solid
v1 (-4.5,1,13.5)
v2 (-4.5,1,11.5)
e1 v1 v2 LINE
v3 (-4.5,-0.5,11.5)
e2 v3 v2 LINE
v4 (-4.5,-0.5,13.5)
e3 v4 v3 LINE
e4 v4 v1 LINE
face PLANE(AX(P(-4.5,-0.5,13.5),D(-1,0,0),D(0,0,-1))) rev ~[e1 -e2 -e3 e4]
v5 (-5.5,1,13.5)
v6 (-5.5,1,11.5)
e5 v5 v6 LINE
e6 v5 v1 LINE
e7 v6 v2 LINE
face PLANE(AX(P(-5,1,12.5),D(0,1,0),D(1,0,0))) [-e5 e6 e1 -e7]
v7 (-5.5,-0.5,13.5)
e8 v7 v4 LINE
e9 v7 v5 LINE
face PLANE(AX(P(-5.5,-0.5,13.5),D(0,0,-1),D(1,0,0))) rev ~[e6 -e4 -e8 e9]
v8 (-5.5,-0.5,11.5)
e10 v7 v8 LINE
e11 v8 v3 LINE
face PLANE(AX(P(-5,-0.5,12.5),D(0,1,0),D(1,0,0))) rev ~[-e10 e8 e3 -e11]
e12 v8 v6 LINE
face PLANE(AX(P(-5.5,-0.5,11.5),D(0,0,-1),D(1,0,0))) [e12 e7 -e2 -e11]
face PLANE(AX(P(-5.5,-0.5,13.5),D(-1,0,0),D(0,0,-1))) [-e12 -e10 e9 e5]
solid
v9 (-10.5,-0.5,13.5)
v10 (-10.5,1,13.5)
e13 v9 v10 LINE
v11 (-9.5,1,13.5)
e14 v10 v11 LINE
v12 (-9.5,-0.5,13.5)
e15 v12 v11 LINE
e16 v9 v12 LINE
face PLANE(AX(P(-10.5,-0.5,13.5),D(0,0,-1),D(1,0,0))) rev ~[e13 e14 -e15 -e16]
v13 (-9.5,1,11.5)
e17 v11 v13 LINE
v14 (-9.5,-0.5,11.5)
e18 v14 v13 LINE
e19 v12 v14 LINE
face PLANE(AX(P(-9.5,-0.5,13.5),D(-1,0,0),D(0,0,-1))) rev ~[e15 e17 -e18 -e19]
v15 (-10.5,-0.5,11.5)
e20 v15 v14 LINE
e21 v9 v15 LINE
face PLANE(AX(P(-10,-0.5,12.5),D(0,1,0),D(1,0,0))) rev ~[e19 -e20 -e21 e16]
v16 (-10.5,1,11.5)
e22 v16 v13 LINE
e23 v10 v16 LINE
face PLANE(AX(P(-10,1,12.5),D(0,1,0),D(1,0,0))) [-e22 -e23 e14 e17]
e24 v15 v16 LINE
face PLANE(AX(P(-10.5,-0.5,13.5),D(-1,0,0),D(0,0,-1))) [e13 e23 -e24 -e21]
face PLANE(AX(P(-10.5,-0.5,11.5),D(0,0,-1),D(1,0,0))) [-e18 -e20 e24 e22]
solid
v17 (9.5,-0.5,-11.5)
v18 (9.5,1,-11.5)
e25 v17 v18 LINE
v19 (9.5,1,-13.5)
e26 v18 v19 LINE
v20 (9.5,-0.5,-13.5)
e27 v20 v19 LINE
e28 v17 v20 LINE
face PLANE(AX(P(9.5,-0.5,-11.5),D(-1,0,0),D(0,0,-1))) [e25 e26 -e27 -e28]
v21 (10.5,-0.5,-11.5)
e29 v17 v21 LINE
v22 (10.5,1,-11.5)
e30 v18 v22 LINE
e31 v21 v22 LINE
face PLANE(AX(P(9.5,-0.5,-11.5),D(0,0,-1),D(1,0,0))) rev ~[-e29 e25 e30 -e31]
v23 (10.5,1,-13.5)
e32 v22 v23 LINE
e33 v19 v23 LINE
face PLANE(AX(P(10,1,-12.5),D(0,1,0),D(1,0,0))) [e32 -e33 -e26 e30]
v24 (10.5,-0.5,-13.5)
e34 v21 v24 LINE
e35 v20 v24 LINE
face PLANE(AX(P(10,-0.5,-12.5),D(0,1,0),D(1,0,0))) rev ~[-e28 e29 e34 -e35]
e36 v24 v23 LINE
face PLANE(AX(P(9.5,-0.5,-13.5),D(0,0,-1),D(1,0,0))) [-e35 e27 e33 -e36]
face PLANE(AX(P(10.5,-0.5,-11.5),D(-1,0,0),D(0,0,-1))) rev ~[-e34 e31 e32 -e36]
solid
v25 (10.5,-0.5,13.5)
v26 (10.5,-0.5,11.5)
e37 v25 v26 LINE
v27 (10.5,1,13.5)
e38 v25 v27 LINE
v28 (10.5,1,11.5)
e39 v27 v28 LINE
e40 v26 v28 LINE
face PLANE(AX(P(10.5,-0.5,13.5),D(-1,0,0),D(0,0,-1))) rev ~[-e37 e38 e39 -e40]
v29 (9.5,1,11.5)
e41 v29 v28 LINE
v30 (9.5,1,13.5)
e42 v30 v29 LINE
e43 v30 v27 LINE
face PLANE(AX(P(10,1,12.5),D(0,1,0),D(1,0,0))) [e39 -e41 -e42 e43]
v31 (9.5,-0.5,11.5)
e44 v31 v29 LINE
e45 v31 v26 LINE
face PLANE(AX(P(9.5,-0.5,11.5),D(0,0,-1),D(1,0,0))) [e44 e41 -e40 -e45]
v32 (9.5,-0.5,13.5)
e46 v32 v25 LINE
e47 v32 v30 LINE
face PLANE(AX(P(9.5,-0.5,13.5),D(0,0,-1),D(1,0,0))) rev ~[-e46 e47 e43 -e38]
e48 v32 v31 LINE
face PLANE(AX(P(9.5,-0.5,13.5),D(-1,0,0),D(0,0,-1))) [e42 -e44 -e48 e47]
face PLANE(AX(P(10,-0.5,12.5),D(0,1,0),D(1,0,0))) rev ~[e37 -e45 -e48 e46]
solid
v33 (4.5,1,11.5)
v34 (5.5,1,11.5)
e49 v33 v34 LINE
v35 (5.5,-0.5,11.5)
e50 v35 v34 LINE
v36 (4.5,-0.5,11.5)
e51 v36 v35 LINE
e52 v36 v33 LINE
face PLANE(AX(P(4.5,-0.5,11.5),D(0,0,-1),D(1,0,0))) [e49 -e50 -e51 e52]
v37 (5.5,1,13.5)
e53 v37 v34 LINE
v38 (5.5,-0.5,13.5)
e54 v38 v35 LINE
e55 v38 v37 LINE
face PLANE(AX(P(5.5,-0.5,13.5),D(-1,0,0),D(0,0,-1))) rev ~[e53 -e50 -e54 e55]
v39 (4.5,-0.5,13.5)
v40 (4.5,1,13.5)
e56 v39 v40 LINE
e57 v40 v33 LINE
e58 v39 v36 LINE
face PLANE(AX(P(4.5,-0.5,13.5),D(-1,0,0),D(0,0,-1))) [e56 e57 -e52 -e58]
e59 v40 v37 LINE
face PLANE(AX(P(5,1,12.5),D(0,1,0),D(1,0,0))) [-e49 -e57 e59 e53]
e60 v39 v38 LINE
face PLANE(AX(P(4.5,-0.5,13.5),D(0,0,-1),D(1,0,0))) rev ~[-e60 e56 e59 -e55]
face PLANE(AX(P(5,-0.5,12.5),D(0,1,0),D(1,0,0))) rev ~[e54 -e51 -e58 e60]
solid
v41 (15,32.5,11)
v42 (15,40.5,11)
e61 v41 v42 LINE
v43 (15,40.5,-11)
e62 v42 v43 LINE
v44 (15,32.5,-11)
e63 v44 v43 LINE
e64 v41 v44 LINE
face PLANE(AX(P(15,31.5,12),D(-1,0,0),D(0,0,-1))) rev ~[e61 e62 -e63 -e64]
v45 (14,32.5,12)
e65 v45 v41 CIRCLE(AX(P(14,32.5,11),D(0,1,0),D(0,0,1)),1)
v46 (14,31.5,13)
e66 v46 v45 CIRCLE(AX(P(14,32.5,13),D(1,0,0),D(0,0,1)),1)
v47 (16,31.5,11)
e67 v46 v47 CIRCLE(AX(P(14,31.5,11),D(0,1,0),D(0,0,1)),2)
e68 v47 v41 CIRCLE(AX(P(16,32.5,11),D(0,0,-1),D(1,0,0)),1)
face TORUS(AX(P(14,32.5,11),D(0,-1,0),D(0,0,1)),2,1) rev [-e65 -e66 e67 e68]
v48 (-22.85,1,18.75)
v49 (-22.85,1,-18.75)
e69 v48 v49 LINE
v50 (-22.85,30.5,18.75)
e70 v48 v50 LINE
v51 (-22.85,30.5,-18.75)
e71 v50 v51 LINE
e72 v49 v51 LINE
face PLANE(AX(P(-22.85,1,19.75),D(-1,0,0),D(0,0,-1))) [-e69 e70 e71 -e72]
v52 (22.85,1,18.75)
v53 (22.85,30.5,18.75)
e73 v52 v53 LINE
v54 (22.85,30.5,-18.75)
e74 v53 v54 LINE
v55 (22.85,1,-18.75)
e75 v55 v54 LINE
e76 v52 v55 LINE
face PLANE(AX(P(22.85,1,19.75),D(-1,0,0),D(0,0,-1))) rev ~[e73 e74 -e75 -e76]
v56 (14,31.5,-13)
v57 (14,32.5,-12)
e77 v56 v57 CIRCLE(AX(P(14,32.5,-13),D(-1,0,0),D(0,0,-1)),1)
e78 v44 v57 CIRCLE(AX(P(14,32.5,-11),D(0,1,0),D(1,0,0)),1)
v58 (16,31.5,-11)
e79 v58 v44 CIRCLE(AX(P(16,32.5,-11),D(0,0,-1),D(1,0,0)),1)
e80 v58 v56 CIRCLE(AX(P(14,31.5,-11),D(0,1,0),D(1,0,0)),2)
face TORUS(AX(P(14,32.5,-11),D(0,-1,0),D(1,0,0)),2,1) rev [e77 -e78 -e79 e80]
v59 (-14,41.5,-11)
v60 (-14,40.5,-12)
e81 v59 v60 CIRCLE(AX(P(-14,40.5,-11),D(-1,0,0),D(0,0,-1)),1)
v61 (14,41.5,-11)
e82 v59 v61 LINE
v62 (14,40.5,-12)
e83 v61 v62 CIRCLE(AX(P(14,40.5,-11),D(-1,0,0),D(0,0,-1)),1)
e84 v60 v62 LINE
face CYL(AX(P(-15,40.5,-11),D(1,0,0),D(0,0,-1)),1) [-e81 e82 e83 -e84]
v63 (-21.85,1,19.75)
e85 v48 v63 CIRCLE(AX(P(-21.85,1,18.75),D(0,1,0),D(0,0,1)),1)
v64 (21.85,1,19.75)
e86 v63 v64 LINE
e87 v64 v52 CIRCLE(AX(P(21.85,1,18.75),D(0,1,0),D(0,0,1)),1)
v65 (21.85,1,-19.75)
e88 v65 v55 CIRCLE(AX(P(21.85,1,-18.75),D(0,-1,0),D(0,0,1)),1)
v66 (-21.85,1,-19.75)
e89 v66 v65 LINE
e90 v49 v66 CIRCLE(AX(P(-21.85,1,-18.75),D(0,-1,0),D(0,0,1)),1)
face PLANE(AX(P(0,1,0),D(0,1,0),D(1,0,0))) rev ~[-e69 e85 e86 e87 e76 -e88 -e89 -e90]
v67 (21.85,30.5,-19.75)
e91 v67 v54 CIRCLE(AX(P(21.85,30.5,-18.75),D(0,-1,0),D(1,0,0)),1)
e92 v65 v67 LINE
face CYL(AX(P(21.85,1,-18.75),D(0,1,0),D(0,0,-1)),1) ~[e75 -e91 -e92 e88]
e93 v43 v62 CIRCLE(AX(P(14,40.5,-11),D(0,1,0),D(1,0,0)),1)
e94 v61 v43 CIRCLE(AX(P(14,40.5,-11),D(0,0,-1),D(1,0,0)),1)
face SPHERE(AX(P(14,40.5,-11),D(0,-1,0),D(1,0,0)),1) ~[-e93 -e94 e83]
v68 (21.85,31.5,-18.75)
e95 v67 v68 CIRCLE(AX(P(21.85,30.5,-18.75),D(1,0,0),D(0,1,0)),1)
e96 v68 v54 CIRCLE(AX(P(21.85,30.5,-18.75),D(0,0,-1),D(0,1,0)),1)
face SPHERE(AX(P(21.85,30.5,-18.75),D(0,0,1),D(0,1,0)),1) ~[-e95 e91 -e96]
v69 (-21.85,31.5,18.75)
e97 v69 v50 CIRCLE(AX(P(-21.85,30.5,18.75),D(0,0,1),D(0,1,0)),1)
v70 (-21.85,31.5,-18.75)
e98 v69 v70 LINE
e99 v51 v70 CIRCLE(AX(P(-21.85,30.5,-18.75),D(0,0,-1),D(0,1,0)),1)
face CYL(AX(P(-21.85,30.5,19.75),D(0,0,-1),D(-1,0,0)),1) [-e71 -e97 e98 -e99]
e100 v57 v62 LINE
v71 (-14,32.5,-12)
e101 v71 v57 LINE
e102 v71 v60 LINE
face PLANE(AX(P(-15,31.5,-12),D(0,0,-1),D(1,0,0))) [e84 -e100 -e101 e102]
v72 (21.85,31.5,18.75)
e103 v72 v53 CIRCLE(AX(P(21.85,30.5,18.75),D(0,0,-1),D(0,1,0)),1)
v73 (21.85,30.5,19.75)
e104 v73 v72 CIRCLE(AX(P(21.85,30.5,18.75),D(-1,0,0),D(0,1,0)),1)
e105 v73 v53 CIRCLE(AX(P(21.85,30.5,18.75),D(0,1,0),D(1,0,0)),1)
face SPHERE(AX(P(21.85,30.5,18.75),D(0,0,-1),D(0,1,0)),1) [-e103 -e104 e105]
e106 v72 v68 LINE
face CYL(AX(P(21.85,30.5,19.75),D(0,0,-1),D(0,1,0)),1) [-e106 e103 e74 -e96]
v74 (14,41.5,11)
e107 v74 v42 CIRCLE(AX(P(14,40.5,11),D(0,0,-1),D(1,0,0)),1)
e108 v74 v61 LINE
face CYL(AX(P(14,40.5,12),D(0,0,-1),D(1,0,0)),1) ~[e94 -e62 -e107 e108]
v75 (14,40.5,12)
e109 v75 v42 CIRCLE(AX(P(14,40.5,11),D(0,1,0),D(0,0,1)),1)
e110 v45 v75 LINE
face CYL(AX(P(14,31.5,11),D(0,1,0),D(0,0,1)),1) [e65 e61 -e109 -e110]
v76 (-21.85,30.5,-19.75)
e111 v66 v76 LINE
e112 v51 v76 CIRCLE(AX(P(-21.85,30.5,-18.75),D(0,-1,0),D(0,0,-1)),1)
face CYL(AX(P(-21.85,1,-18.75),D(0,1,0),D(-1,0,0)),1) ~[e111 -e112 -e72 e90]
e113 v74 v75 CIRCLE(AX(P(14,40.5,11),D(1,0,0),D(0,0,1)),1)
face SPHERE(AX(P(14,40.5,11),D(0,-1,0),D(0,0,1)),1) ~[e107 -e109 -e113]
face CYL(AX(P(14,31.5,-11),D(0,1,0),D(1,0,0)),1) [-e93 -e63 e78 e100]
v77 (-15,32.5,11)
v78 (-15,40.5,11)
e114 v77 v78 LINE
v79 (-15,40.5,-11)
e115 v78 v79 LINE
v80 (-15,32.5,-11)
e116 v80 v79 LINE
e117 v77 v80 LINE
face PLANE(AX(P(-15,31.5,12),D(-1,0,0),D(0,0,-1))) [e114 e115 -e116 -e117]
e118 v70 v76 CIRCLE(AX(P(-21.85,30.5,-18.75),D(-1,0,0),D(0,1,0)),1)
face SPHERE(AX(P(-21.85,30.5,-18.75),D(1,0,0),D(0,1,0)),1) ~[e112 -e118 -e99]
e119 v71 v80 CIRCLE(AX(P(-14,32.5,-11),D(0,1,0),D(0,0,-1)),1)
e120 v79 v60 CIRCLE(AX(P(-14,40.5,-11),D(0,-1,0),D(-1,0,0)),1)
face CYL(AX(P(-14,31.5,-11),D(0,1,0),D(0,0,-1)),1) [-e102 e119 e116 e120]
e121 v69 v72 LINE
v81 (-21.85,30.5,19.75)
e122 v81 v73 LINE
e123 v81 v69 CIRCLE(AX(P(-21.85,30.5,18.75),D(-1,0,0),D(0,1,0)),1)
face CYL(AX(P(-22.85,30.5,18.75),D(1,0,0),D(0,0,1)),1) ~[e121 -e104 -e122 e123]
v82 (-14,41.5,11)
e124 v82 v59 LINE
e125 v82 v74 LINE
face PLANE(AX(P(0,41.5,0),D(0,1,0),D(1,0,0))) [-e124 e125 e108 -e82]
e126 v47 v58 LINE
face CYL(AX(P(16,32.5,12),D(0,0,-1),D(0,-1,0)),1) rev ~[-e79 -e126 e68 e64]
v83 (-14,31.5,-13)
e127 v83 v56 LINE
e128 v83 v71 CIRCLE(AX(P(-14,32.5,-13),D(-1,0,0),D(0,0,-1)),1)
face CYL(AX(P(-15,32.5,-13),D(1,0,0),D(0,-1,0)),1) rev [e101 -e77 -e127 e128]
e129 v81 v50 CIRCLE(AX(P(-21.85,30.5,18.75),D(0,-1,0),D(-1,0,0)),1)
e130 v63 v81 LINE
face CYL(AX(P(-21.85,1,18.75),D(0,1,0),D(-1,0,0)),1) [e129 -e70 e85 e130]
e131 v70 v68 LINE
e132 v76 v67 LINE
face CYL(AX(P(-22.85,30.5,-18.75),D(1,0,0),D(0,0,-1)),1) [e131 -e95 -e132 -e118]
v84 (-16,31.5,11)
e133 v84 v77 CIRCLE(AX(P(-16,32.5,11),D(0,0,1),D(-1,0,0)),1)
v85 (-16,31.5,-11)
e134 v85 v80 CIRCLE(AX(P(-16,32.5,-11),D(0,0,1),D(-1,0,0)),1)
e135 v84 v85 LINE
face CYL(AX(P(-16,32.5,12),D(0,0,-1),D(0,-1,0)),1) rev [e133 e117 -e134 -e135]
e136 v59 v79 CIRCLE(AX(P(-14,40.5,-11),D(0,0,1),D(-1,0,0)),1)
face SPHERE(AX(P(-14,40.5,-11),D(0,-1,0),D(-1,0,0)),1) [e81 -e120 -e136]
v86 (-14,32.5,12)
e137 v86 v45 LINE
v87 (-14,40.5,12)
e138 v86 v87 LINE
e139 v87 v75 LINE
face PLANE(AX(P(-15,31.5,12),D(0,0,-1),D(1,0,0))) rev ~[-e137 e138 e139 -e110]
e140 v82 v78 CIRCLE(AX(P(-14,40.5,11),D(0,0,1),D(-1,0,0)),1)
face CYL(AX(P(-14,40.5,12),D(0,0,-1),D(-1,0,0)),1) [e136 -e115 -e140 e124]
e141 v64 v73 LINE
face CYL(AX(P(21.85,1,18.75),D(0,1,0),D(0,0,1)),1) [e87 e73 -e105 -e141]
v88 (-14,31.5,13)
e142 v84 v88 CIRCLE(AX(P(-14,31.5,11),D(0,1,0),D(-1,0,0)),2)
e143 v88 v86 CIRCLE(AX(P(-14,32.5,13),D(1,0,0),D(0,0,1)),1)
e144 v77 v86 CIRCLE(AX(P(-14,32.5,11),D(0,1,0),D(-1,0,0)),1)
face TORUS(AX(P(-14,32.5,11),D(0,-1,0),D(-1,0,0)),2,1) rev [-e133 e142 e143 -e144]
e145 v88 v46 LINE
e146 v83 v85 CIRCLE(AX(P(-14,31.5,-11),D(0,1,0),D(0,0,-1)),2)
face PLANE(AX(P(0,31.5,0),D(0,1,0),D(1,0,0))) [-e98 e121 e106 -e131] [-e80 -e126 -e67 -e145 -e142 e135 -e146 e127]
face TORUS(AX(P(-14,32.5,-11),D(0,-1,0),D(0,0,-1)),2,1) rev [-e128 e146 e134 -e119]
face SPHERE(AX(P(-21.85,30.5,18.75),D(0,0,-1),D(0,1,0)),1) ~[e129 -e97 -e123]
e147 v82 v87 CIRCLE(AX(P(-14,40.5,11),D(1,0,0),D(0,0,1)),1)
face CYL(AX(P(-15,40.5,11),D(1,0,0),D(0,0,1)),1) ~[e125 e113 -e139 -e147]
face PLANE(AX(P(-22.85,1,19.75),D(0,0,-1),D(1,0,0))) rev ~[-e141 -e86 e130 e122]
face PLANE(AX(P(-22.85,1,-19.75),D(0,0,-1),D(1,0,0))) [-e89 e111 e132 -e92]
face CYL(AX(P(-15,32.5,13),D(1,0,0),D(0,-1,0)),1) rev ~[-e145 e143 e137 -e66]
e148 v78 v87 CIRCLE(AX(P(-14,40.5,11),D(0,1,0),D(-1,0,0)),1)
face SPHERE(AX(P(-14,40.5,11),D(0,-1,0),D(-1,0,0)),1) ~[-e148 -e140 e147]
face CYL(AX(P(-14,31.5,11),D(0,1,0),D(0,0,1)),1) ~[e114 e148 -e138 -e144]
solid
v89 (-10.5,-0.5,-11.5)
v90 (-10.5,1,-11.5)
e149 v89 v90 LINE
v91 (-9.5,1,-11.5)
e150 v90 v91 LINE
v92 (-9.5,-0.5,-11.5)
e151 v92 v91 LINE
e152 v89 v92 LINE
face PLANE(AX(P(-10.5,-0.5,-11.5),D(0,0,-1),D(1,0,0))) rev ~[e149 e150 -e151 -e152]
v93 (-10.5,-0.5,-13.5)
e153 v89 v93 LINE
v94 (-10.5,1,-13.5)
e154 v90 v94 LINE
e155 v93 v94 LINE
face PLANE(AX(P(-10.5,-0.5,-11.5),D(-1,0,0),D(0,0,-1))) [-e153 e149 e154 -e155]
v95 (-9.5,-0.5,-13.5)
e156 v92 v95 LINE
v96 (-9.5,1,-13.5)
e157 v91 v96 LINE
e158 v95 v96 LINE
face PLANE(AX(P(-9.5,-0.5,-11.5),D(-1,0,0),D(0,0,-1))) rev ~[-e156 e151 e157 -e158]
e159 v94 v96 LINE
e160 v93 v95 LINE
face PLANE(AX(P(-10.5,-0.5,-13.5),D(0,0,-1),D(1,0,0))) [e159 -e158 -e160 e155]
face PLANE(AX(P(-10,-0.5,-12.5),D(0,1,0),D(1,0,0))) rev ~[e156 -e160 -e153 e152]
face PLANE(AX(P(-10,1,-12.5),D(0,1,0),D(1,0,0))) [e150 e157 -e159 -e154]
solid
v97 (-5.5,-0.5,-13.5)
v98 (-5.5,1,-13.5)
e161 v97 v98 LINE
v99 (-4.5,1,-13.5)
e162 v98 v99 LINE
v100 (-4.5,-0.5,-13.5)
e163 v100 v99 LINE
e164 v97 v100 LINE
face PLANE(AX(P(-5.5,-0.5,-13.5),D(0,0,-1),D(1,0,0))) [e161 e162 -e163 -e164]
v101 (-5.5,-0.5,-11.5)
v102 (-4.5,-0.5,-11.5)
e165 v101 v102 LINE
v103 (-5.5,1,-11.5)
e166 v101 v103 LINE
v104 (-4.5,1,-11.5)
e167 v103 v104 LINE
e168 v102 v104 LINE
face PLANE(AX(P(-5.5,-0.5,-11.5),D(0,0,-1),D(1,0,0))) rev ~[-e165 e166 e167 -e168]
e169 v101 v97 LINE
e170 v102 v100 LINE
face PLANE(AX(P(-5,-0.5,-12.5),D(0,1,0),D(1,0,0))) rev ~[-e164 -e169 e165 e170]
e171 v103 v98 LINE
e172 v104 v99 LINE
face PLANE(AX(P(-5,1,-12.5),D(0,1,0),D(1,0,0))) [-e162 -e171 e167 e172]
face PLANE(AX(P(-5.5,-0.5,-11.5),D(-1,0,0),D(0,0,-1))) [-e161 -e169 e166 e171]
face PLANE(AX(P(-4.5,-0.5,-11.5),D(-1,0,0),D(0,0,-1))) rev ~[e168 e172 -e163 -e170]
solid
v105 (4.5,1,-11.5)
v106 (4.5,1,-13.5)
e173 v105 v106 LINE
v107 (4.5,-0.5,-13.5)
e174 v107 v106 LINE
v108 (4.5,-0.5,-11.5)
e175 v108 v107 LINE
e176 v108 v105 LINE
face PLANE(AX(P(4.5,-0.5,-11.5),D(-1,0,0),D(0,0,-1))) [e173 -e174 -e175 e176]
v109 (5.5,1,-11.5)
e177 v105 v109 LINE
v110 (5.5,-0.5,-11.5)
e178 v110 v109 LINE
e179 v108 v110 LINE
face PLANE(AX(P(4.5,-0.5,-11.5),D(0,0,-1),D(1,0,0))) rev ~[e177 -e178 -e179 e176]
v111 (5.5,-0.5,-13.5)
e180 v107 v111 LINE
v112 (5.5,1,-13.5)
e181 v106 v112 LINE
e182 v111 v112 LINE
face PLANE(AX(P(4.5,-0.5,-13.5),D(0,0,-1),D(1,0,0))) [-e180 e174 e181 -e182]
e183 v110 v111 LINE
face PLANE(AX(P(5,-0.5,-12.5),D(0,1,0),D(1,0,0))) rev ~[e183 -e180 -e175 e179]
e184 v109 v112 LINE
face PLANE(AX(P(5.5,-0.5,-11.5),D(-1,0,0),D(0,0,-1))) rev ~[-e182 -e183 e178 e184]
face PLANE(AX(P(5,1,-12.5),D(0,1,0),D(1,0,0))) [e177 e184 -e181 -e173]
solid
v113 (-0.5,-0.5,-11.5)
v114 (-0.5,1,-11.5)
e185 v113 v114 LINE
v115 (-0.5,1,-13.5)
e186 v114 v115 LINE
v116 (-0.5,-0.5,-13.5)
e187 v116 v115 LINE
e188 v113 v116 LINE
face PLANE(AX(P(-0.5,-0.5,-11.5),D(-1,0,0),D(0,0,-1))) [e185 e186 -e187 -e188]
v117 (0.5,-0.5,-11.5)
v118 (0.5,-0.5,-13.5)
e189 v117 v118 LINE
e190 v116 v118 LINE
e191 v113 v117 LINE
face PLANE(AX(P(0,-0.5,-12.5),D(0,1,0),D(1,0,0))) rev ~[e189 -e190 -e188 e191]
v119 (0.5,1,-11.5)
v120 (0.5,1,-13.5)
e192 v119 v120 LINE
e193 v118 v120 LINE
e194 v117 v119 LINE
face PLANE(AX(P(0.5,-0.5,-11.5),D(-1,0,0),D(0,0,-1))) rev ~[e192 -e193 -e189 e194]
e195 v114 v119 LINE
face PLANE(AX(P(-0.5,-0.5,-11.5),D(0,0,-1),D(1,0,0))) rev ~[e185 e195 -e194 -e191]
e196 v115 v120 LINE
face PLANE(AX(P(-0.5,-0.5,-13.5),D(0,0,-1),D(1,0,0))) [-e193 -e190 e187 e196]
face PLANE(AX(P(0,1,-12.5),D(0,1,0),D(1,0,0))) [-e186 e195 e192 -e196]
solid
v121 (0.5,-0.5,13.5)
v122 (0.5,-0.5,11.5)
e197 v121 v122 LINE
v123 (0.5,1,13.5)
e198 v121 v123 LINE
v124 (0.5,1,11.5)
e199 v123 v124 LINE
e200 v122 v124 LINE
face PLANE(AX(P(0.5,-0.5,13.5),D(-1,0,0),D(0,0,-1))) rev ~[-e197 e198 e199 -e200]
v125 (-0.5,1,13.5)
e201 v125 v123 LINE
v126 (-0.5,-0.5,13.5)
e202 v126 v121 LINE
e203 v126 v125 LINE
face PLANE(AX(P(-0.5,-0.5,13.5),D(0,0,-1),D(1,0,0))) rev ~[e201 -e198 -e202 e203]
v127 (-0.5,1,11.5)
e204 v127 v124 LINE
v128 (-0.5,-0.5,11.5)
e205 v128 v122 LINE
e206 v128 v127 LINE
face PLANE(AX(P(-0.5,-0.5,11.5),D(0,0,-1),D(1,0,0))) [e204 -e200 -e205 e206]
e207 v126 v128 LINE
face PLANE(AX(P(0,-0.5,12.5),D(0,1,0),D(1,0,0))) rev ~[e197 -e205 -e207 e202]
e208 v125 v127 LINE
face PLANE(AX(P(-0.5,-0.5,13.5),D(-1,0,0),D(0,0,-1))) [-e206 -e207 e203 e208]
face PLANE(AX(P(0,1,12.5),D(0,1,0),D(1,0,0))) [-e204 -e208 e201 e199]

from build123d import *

# Parameters (mm, degrees)
EXTRUDE_START      = -0.5
SKETCH_1_W         = 1
SKETCH_1_H         = 2
EXTRUDE_1_DEPTH    = 1.5
EXTRUDE_1_2_DEPTH  = 1.5
EXTRUDE_1_3_DEPTH  = 1.5
EXTRUDE_1_4_DEPTH  = 1.5
EXTRUDE_1_5_DEPTH  = 1.5
EXTRUDE_1_6_DEPTH  = 1.5
EXTRUDE_1_7_DEPTH  = 1.5
EXTRUDE_1_8_DEPTH  = 1.5
EXTRUDE_1_9_DEPTH  = 1.5
EXTRUDE_1_10_DEPTH = 1.5
SKETCH_2_W         = 45.7
SKETCH_2_H         = 39.5
EXTRUDE_2_DEPTH    = 30.5
SKETCH_3_W         = 30
SKETCH_3_H         = 24
EXTRUDE_3_DEPTH    = 10
FILLET_1_R         = 1


with BuildPart() as part:
    # Эскиз1 → Бобышка-Вытянуть1 (new body)
    with BuildSketch(Plane(origin=(0, 0, 0), x_dir=(1, 0, 0), z_dir=(0, 1, 0)).offset(EXTRUDE_START)):
        with Locations((-5, 12.5)):
            Rectangle(SKETCH_1_W, SKETCH_1_H)
    extrude(amount=EXTRUDE_1_DEPTH)


with BuildPart() as body_2:
    # Эскиз1 → Extrude 1 2 (new body)
    with BuildSketch(Plane(origin=(0, 0, 0), x_dir=(1, 0, 0), z_dir=(0, 1, 0)).offset(EXTRUDE_START)):
        with Locations((-10, 12.5)):
            Rectangle(SKETCH_1_W, SKETCH_1_H)
    extrude(amount=EXTRUDE_1_2_DEPTH)


with BuildPart() as body_3:
    # Эскиз1 → Extrude 1 3 (new body)
    with BuildSketch(Plane(origin=(0, 0, 0), x_dir=(1, 0, 0), z_dir=(0, 1, 0)).offset(EXTRUDE_START)):
        with Locations((0, 12.5)):
            Rectangle(SKETCH_1_W, SKETCH_1_H)
    extrude(amount=EXTRUDE_1_3_DEPTH)


with BuildPart() as body_4:
    # Эскиз1 → Extrude 1 4 (new body)
    with BuildSketch(Plane(origin=(0, 0, 0), x_dir=(1, 0, 0), z_dir=(0, 1, 0)).offset(EXTRUDE_START)):
        with Locations((5, 12.5)):
            Rectangle(SKETCH_1_W, SKETCH_1_H)
    extrude(amount=EXTRUDE_1_4_DEPTH)


with BuildPart() as body_5:
    # Эскиз1 → Extrude 1 5 (new body)
    with BuildSketch(Plane(origin=(0, 0, 0), x_dir=(1, 0, 0), z_dir=(0, 1, 0)).offset(EXTRUDE_START)):
        with Locations((10, 12.5)):
            Rectangle(SKETCH_1_W, SKETCH_1_H)
    extrude(amount=EXTRUDE_1_5_DEPTH)


with BuildPart() as body_6:
    # Эскиз1 → Extrude 1 6 (new body)
    with BuildSketch(Plane(origin=(0, 0, 0), x_dir=(1, 0, 0), z_dir=(0, 1, 0)).offset(EXTRUDE_START)):
        with Locations((-5, -12.5)):
            Rectangle(SKETCH_1_W, SKETCH_1_H)
    extrude(amount=EXTRUDE_1_6_DEPTH)


with BuildPart() as body_7:
    # Эскиз1 → Extrude 1 7 (new body)
    with BuildSketch(Plane(origin=(0, 0, 0), x_dir=(1, 0, 0), z_dir=(0, 1, 0)).offset(EXTRUDE_START)):
        with Locations((0, -12.5)):
            Rectangle(SKETCH_1_W, SKETCH_1_H)
    extrude(amount=EXTRUDE_1_7_DEPTH)


with BuildPart() as body_8:
    # Эскиз1 → Extrude 1 8 (new body)
    with BuildSketch(Plane(origin=(0, 0, 0), x_dir=(1, 0, 0), z_dir=(0, 1, 0)).offset(EXTRUDE_START)):
        with Locations((5, -12.5)):
            Rectangle(SKETCH_1_W, SKETCH_1_H)
    extrude(amount=EXTRUDE_1_8_DEPTH)


with BuildPart() as body_9:
    # Эскиз1 → Extrude 1 9 (new body)
    with BuildSketch(Plane(origin=(0, 0, 0), x_dir=(1, 0, 0), z_dir=(0, 1, 0)).offset(EXTRUDE_START)):
        with Locations((10, -12.5)):
            Rectangle(SKETCH_1_W, SKETCH_1_H)
    extrude(amount=EXTRUDE_1_9_DEPTH)


with BuildPart() as body_10:
    # Эскиз1 → Extrude 1 10 (new body)
    with BuildSketch(Plane(origin=(0, 0, 0), x_dir=(1, 0, 0), z_dir=(0, 1, 0)).offset(EXTRUDE_START)):
        with Locations((-10, -12.5)):
            Rectangle(SKETCH_1_W, SKETCH_1_H)
    extrude(amount=EXTRUDE_1_10_DEPTH)


with BuildPart() as body_11:
    # Эскиз2 → Бобышка-Вытянуть2 (new body)
    with BuildSketch(Plane(origin=(0, 1, 0), x_dir=(1, 0, 0), z_dir=(0, 1, 0))):
        Rectangle(SKETCH_2_W, SKETCH_2_H)
    extrude(amount=EXTRUDE_2_DEPTH)

    # Эскиз3 → Бобышка-Вытянуть3 (add)
    with BuildSketch(Plane(origin=(0, 31.5, 0), x_dir=(1, 0, 0), z_dir=(0, 1, 0))):
        Rectangle(SKETCH_3_W, SKETCH_3_H)
    extrude(amount=EXTRUDE_3_DEPTH)

    # Скругление1
    fillet_1_edges = [body_11.edges().sort_by_distance(p)[0] for p in [
        (22.85, 31.5, 0),
        (0, 31.5, -19.75),
        (-15, 31.5, 0),
        (-15, 36.5, -12),
        (0, 31.5, 12),
        (-15, 36.5, 12),
        (15, 31.5, 0),
        (15, 36.5, 12),
        (0, 31.5, -12),
        (15, 36.5, -12),
        (-15, 41.5, 0),
        (0, 41.5, 12),
        (15, 41.5, 0),
        (0, 41.5, -12),
        (-22.85, 31.5, 0),
        (0, 31.5, 19.75),
        (-22.85, 16.25, -19.75),
        (22.85, 16.25, -19.75),
        (22.85, 16.25, 19.75),
        (-22.85, 16.25, 19.75),
    ]]
    fillet(fillet_1_edges, radius=FILLET_1_R)


solid = Compound([part.part, body_2.part, body_3.part, body_4.part, body_5.part, body_6.part, body_7.part, body_8.part, body_9.part, body_10.part, body_11.part])
